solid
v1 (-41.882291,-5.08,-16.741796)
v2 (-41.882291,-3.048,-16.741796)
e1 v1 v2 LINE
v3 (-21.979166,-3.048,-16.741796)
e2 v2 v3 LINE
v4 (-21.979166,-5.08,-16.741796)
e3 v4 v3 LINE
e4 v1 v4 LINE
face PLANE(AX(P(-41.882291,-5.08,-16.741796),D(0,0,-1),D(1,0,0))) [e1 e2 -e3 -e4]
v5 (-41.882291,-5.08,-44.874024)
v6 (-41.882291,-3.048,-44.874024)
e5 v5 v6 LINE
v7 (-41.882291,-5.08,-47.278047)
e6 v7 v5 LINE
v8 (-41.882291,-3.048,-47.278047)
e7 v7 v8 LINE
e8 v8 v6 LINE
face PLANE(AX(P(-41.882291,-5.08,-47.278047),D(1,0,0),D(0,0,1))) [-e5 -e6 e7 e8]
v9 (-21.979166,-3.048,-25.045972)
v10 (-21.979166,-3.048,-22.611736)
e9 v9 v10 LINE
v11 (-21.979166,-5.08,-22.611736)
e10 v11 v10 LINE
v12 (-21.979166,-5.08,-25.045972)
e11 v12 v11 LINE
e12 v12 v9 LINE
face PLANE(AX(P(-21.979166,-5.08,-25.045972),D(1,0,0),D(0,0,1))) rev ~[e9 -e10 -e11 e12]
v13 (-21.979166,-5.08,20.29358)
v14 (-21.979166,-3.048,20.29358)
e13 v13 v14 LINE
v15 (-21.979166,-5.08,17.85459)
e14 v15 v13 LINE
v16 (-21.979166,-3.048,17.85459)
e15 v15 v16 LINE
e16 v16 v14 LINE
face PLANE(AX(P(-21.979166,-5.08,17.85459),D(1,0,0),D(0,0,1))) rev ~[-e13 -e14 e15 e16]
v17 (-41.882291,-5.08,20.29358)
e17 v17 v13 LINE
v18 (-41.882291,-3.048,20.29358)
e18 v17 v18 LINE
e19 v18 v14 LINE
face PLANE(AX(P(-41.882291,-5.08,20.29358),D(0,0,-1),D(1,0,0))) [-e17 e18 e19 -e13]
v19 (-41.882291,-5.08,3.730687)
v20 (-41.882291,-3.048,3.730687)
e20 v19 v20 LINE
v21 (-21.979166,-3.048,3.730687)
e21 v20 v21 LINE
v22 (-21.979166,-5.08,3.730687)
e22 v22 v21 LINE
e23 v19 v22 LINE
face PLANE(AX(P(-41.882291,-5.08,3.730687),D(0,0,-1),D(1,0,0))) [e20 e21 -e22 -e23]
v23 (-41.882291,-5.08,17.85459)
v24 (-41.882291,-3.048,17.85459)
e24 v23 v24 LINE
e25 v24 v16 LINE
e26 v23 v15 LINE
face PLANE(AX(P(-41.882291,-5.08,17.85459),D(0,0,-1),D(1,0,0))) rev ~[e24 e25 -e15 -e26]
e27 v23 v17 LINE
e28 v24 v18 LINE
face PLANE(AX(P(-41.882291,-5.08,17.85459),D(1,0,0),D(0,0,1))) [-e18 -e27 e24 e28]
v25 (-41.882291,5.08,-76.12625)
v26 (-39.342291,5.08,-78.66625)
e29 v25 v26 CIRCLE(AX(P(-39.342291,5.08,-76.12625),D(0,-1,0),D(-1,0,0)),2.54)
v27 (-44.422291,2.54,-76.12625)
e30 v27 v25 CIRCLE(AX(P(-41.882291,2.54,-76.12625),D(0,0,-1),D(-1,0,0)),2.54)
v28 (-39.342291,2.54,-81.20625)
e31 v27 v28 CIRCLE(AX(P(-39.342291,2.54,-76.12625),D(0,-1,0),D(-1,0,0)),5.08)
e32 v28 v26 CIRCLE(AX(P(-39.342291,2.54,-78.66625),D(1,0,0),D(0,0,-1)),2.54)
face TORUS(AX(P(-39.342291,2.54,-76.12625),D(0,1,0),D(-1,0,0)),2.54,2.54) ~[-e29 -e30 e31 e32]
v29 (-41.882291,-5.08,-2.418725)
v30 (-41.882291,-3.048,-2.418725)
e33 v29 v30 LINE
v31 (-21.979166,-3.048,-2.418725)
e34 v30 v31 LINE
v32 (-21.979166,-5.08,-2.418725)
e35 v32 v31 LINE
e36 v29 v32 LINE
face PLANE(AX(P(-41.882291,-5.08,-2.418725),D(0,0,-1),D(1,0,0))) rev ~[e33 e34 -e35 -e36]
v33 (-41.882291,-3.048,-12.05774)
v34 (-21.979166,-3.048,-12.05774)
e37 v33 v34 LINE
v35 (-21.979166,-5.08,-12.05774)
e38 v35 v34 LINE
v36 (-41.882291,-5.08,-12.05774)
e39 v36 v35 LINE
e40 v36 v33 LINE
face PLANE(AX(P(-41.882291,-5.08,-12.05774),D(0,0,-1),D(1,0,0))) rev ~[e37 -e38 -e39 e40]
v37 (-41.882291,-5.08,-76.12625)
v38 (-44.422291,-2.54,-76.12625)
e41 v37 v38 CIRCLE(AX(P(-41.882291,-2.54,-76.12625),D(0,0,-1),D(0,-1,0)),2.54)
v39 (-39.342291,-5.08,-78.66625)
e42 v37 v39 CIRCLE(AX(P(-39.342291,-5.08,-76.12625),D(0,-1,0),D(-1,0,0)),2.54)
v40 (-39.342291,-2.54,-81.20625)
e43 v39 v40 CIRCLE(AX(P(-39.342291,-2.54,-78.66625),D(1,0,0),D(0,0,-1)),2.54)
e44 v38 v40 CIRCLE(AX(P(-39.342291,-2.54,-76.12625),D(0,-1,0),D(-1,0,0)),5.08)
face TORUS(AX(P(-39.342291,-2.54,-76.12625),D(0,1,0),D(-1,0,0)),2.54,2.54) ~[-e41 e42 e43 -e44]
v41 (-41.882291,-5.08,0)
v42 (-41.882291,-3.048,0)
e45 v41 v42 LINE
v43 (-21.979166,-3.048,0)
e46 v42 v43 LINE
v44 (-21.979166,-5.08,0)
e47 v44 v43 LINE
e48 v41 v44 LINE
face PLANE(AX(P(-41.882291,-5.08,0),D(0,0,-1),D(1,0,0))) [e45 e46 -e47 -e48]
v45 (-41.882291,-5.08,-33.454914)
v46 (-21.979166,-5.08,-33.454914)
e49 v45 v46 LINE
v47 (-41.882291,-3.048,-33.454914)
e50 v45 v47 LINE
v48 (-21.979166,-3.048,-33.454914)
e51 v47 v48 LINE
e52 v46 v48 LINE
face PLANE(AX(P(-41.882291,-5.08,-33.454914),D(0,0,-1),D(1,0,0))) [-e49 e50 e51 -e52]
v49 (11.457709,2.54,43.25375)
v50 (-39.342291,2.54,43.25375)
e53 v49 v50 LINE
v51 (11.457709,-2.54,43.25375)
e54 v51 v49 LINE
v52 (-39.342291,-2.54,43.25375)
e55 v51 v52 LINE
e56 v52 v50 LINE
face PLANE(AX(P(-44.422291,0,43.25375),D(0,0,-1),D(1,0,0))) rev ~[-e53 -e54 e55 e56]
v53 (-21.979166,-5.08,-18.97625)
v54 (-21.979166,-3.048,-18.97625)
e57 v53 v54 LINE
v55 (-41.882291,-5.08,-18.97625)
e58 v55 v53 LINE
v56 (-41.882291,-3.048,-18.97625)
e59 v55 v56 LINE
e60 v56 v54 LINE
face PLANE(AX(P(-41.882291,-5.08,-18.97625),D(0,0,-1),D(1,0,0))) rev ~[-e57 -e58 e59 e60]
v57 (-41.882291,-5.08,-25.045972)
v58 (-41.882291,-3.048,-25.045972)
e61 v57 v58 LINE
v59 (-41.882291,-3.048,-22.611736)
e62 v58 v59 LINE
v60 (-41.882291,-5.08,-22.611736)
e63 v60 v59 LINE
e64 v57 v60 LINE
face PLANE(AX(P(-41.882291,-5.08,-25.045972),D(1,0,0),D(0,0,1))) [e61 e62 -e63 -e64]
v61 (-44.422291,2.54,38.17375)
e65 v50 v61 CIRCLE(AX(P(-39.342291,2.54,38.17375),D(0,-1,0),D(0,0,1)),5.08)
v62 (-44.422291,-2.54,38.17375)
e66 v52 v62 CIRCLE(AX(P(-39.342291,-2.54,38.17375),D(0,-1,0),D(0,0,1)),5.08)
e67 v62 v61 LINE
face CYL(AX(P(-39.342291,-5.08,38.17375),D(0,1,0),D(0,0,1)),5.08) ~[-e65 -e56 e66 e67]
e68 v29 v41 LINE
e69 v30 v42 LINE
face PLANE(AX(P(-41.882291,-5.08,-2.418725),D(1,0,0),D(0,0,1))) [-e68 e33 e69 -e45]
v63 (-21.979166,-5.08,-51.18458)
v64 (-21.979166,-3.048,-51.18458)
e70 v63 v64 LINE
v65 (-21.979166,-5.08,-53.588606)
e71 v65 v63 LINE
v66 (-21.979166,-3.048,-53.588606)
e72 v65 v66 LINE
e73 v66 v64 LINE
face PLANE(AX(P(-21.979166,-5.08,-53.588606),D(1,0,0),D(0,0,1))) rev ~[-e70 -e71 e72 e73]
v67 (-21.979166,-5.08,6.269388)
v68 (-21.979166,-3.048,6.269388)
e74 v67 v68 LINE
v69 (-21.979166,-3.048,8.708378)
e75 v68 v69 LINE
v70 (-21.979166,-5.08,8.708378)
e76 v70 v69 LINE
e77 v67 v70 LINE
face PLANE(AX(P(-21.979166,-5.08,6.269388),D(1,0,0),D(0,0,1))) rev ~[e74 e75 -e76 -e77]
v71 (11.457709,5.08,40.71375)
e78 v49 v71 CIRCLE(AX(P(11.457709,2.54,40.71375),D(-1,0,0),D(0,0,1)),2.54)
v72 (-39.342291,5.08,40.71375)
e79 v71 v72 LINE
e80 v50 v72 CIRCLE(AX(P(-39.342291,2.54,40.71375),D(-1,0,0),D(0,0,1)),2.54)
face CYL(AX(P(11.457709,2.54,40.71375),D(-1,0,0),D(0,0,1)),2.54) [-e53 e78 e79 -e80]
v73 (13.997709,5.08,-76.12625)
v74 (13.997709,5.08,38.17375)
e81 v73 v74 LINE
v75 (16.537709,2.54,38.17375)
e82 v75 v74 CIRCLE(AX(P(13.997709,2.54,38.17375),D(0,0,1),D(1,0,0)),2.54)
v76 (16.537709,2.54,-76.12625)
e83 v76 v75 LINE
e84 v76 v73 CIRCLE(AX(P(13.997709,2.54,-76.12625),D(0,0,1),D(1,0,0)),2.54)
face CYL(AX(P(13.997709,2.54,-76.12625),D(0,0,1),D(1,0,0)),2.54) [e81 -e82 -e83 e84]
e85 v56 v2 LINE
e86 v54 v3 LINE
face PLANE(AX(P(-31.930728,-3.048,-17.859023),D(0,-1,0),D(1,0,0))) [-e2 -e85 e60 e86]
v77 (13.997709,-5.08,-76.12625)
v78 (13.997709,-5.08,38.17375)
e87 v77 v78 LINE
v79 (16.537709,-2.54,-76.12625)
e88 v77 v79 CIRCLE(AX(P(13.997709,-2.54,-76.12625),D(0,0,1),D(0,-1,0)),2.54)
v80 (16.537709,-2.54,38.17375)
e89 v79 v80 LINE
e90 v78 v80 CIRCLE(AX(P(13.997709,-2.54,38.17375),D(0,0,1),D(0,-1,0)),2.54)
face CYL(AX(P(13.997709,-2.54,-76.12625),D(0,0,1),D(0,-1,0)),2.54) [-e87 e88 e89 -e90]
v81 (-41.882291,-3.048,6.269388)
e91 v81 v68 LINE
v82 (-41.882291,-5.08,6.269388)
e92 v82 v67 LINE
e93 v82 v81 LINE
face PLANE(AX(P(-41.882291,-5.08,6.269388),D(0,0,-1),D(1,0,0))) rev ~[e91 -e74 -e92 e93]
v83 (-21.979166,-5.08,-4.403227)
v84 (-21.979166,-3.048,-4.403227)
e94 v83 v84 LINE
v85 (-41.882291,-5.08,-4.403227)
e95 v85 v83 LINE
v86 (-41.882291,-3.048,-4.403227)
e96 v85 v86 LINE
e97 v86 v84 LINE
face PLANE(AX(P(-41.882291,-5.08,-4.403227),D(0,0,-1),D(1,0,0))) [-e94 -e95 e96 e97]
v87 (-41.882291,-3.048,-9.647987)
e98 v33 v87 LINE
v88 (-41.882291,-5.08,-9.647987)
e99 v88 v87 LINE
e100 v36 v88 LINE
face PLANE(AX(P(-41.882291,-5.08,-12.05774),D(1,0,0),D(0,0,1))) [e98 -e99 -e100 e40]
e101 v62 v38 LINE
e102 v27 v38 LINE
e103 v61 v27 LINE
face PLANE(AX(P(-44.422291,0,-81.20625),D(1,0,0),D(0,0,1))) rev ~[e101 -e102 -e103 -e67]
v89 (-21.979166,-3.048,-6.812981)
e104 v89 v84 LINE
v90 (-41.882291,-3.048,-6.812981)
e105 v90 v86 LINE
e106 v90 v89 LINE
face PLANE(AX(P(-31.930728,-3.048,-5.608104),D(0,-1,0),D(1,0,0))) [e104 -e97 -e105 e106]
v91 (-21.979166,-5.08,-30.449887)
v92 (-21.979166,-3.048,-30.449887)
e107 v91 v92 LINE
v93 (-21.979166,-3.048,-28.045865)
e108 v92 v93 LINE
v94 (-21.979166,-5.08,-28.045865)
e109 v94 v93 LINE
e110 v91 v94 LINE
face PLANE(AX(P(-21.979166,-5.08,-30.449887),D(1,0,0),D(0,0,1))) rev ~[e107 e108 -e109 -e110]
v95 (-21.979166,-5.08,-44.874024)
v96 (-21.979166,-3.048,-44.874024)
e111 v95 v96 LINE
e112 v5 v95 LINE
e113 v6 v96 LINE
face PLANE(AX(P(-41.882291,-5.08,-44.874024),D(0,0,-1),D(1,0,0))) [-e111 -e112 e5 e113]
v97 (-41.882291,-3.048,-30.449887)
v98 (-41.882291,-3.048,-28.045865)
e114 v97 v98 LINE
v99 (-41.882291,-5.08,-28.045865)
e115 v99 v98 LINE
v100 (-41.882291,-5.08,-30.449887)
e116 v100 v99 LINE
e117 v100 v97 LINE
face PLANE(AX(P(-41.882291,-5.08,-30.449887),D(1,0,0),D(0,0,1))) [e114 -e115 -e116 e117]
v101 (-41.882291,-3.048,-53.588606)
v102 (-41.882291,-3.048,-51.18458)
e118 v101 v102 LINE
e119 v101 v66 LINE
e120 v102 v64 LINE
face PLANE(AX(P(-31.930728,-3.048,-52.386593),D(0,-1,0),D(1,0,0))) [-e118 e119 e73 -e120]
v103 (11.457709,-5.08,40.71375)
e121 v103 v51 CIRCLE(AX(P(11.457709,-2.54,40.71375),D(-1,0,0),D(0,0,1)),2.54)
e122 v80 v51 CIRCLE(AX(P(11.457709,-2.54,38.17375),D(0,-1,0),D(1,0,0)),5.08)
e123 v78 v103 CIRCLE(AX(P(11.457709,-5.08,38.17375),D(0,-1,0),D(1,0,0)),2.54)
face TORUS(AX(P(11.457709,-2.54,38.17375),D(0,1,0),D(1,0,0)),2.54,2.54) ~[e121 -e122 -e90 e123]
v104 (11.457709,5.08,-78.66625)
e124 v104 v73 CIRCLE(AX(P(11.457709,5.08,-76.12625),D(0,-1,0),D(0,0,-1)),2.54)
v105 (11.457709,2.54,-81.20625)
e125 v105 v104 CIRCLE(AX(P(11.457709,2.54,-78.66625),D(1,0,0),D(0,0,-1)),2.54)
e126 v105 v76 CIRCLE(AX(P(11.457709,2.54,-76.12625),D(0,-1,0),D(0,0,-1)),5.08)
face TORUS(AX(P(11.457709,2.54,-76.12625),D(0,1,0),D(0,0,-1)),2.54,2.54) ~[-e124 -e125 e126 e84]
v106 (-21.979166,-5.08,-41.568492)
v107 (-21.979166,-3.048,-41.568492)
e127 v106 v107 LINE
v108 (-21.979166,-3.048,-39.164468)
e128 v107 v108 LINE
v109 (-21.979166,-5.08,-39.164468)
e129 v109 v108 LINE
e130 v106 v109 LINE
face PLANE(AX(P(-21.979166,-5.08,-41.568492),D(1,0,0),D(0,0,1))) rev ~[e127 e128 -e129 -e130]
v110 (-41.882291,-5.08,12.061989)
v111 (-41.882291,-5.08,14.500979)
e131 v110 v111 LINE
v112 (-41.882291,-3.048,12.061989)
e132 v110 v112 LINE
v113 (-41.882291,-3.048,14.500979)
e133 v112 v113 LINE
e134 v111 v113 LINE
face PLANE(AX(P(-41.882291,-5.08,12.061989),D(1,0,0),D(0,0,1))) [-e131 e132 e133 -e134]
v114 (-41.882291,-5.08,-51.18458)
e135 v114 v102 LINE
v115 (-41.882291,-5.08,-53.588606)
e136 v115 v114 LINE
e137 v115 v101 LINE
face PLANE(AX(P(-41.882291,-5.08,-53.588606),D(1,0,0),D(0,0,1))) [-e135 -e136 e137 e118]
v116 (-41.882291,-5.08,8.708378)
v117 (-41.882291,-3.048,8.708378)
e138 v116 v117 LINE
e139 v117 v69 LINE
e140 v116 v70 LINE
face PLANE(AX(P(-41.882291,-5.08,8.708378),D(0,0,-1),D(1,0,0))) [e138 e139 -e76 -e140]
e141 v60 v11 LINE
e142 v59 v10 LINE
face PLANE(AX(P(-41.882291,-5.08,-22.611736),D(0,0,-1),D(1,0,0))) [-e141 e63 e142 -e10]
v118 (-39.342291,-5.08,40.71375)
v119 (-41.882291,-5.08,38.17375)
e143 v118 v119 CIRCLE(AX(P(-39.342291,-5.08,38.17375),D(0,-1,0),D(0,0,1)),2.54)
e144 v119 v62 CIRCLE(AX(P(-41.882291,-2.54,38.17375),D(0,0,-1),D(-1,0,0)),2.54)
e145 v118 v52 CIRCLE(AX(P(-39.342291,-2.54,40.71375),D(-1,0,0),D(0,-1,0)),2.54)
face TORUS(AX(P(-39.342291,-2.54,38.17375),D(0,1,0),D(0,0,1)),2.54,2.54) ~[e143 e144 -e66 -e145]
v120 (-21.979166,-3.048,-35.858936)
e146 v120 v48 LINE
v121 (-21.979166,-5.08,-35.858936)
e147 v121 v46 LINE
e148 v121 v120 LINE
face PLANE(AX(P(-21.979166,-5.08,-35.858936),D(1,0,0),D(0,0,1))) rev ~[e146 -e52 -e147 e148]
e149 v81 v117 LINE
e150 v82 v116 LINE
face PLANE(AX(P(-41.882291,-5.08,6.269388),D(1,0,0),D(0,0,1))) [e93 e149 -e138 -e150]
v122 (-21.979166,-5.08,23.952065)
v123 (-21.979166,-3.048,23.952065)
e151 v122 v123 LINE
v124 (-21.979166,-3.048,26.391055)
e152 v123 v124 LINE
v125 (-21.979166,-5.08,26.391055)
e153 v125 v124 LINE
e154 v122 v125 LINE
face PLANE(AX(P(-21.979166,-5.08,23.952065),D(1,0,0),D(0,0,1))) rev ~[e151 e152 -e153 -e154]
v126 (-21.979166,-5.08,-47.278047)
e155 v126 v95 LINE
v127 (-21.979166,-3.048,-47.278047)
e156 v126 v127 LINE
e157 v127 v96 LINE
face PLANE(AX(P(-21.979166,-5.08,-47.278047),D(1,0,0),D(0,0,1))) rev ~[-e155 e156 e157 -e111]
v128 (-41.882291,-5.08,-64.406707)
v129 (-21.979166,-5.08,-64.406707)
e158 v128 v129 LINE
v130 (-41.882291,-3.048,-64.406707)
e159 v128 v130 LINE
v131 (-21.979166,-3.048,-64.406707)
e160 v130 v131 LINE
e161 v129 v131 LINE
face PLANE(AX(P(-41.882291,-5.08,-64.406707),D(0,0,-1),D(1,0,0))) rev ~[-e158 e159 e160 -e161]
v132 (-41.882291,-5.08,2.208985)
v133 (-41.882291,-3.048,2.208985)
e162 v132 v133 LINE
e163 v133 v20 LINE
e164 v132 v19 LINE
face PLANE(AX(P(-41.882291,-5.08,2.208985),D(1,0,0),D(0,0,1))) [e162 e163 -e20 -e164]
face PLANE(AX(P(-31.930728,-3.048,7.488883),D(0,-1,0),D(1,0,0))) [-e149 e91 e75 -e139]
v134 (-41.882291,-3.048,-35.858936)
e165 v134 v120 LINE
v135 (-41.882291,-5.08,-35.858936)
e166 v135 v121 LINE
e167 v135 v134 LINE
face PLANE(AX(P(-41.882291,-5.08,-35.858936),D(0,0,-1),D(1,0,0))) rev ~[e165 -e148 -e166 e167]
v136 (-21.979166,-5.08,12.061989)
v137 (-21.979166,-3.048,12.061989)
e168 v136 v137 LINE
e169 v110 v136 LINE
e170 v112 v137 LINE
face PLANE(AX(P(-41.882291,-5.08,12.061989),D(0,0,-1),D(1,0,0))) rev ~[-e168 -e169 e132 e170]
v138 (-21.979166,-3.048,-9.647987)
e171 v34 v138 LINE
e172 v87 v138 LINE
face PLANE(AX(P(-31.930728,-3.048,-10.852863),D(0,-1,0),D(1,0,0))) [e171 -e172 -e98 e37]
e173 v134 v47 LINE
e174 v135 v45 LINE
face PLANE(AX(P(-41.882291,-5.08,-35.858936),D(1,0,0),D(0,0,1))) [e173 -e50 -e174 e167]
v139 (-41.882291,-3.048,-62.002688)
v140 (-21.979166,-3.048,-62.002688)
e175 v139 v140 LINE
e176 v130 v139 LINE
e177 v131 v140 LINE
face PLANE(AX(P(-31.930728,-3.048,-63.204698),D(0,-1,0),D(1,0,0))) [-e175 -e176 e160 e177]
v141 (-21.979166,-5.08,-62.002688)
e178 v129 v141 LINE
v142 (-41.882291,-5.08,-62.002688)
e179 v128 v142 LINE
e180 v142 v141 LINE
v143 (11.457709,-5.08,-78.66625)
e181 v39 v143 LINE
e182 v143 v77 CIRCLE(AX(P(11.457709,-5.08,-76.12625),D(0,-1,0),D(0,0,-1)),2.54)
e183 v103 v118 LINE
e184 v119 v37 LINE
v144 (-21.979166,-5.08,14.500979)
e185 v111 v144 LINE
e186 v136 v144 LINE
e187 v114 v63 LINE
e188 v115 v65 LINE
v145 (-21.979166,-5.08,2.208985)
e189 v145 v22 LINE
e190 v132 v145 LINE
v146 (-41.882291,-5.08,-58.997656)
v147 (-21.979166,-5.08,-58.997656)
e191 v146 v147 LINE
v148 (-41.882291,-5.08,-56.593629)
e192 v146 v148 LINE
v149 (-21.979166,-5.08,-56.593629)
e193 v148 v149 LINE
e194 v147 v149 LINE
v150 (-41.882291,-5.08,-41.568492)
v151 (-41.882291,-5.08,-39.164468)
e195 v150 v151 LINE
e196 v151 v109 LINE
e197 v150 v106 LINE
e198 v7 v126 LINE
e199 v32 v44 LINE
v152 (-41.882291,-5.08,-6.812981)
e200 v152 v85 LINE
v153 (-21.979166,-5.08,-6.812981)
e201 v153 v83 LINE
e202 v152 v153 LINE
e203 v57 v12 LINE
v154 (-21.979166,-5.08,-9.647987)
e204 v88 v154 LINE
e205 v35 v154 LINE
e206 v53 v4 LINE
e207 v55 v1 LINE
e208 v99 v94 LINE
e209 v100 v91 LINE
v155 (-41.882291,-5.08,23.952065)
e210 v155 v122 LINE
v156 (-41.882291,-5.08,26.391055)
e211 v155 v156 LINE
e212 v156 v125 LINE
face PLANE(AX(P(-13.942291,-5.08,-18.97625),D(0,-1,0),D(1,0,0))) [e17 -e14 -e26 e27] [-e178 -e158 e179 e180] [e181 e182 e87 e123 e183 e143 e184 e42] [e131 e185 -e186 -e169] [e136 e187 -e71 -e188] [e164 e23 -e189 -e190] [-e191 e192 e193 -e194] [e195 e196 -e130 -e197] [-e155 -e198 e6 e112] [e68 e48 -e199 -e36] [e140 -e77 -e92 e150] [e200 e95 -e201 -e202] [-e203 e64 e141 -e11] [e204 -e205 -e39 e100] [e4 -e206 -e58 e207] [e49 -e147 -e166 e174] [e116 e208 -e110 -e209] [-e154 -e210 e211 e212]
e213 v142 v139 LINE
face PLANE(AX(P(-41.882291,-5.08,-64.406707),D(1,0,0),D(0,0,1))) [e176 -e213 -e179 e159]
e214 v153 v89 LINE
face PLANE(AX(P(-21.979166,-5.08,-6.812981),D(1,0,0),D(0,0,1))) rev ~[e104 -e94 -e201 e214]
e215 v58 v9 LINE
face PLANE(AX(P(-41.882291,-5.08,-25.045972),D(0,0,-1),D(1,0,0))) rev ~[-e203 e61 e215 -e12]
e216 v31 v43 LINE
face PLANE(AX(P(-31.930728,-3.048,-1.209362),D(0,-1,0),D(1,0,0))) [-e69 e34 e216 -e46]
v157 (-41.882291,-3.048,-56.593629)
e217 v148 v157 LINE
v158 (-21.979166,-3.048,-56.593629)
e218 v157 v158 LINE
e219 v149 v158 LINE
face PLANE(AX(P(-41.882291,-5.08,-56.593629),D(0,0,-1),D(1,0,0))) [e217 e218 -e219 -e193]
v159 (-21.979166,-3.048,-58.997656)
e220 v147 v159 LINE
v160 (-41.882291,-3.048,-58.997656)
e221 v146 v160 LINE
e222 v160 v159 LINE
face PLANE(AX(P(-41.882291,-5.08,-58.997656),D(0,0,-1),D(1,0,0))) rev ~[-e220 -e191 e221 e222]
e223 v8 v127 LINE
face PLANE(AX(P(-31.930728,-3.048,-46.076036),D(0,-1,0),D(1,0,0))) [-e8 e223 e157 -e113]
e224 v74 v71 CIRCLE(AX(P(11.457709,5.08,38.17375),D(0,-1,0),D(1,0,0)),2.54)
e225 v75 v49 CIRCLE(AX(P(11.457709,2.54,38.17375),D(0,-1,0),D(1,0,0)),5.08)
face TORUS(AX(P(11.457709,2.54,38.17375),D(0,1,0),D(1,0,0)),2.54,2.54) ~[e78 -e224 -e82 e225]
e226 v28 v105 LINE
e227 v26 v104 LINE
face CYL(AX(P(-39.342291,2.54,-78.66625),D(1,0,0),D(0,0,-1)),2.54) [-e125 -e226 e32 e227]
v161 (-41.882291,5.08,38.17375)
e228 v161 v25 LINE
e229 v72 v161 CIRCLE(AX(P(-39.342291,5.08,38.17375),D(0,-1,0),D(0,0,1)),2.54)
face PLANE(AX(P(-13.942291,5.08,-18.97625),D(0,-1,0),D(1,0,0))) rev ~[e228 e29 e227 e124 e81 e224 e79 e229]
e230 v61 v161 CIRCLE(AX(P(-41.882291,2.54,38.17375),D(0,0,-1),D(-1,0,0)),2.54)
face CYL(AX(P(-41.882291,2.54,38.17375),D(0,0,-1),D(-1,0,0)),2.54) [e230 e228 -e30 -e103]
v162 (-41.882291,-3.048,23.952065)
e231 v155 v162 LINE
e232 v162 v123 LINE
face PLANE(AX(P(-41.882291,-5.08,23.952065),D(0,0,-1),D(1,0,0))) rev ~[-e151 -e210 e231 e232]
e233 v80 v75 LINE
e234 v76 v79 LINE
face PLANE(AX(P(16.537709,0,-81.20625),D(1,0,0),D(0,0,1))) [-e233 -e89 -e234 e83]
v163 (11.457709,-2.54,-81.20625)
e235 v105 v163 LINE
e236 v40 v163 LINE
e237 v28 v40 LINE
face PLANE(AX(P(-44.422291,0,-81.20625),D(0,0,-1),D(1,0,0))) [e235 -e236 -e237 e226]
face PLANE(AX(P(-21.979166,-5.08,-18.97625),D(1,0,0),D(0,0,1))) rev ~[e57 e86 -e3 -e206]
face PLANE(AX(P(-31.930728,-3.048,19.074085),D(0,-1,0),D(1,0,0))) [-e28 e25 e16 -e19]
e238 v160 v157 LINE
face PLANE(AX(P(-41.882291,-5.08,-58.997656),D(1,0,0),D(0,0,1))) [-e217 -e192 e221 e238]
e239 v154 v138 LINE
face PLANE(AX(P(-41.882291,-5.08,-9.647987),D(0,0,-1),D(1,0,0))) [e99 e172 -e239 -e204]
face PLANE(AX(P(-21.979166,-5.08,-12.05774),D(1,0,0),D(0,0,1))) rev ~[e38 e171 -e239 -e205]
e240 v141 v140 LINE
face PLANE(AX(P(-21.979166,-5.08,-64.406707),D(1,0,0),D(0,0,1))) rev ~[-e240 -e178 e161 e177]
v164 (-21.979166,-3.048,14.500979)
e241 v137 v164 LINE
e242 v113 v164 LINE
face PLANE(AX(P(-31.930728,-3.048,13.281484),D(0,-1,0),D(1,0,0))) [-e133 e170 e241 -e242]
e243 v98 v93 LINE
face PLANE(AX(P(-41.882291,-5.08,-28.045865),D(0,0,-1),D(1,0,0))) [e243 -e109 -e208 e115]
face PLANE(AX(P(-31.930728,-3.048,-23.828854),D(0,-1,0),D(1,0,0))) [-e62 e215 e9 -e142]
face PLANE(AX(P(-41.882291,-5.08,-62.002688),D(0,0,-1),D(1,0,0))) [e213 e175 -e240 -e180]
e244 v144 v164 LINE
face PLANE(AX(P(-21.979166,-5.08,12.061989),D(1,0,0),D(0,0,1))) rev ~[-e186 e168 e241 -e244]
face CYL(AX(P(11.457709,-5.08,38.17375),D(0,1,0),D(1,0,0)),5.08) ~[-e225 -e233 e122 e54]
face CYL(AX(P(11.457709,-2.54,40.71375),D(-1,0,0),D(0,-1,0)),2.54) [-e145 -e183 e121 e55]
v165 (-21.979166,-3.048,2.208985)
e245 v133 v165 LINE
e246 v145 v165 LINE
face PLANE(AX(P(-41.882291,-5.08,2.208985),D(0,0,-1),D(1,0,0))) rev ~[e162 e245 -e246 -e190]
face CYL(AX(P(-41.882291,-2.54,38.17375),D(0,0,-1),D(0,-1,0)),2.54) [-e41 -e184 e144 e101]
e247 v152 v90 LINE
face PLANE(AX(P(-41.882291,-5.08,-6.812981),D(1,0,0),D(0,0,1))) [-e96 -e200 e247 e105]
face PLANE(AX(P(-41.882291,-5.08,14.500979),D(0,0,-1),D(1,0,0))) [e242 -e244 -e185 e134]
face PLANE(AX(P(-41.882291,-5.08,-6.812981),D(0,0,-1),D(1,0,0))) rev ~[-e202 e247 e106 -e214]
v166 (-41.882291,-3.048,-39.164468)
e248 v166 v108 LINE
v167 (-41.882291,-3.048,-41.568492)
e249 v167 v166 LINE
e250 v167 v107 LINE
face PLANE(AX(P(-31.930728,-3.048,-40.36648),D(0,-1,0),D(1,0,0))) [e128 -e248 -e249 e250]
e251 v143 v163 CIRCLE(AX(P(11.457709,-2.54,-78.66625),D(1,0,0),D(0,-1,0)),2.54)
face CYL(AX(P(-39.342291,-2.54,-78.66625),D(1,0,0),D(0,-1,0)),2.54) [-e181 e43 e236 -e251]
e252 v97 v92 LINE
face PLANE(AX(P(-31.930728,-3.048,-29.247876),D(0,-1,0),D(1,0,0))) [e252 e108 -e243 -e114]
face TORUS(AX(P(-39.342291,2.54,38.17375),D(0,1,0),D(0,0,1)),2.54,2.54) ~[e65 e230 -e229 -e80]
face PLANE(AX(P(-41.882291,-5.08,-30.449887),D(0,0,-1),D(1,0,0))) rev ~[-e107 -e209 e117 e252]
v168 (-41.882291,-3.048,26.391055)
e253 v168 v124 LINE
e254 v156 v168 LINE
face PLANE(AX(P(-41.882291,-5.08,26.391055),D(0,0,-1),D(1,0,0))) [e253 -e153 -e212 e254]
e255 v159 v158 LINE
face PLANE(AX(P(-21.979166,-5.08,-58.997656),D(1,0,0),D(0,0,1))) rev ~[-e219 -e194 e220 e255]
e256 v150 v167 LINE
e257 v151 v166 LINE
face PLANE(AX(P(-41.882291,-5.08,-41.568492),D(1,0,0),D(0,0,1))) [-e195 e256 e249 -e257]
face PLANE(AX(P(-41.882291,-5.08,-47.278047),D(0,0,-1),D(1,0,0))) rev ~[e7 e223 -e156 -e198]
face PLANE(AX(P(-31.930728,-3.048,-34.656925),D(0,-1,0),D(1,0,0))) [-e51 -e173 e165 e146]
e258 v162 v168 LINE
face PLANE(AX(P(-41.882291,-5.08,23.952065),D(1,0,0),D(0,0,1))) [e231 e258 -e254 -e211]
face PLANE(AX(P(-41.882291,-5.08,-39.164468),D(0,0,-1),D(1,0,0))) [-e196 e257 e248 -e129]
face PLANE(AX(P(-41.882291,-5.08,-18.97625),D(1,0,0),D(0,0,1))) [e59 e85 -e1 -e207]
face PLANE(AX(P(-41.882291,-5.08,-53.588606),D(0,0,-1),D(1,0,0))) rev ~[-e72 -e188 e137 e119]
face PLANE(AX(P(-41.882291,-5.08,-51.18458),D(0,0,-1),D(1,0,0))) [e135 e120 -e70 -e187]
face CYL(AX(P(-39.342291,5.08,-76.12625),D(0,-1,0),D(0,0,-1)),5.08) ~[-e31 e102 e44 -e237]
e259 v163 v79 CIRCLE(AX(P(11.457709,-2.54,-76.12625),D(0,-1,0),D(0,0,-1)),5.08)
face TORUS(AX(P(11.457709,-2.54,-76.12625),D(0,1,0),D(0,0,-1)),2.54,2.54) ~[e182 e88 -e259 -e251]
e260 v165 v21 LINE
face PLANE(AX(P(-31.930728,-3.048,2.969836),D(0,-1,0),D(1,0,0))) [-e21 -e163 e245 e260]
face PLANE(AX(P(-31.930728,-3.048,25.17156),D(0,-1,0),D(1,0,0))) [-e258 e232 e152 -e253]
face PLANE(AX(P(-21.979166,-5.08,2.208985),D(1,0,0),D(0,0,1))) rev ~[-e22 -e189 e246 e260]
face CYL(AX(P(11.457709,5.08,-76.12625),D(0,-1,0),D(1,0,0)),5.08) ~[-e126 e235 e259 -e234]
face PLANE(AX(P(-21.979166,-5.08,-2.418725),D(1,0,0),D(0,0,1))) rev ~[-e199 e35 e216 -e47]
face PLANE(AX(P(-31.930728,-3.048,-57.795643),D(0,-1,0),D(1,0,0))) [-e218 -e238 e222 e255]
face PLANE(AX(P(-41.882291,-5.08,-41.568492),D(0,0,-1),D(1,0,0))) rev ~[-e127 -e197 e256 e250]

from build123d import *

# Parameters (mm, degrees)
F0_W     = 60.96
F0_H     = 124.46
F1_DEPTH = 5.08
F2_R     = 5.08
F3_R     = 5.08
F4_R     = 5.08
F5_R     = 5.08
F6_R     = 2.54
F7_R     = 2.54
F8_W     = 19.903125
F8_H     = 2.43899
F8_H_2   = 2.438989
F8_H_3   = 1.521701
F8_H_4   = 2.418725
F8_H_5   = 2.409754
F8_H_6   = 2.409753
F8_H_7   = 2.234453
F8_H_8   = 2.434235
F8_H_9   = 2.404023
F8_H_10  = 2.404026
F8_H_11  = 2.404027
F8_H_12  = 2.404019
F9_DEPTH = 2.032


with BuildPart() as f1:
    # F0 (on Front) → F1 (new body, symmetric)
    with BuildSketch(Plane.XZ):
        with Locations((-13.942291, -18.97625)):
            Rectangle(F0_W, F0_H)
    extrude(amount=F1_DEPTH, both=True)

    # F2
    f2_edges = [f1.edges().sort_by_distance(p)[0] for p in [
        (16.537709, 0, 43.25375),
    ]]
    fillet(f2_edges, radius=F2_R)

    # F3
    f3_edges = [f1.edges().sort_by_distance(p)[0] for p in [
        (-44.422291, 0, 43.25375),
    ]]
    fillet(f3_edges, radius=F3_R)

    # F4
    f4_edges = [f1.edges().sort_by_distance(p)[0] for p in [
        (16.537709, 0, -81.20625),
    ]]
    fillet(f4_edges, radius=F4_R)

    # F5
    f5_edges = [f1.edges().sort_by_distance(p)[0] for p in [
        (-44.422291, 0, -81.20625),
    ]]
    fillet(f5_edges, radius=F5_R)

    # F6
    f6_edges = [f1.edges().sort_by_distance(p)[0] for p in [
        (16.537709, -5.08, -18.97625),
    ]]
    fillet(f6_edges, radius=F6_R)

    # F7
    f7_edges = [f1.edges().sort_by_distance(p)[0] for p in [
        (16.537709, 5.08, -18.97625),
    ]]
    fillet(f7_edges, radius=F7_R)

    # F8 (on face) → F9 (cut)
    with BuildSketch(Plane.XZ.offset(5.08)):
        with Locations((-31.930728, 25.17156)):
            Rectangle(F8_W, F8_H)
        with Locations((-31.930728, 19.074085)):
            Rectangle(F8_W, F8_H)
        with Locations((-31.930728, 13.281484)):
            Rectangle(F8_W, F8_H_2)
        with Locations((-31.930728, 7.488883)):
            Rectangle(F8_W, F8_H)
        with Locations((-31.930728, 2.969836)):
            Rectangle(F8_W, F8_H_3)
        with Locations((-31.930728, -1.209362)):
            Rectangle(F8_W, F8_H_4)
        with Locations((-31.930728, -5.608104)):
            Rectangle(F8_W, F8_H_5)
        with Locations((-31.930728, -10.852863)):
            Rectangle(F8_W, F8_H_6)
        with Locations((-31.930728, -17.859023)):
            Rectangle(F8_W, F8_H_7)
        with Locations((-31.930728, -23.828854)):
            Rectangle(F8_W, F8_H_8)
        with Locations((-31.930728, -29.247876)):
            Rectangle(F8_W, F8_H_9)
        with Locations((-31.930728, -34.656925)):
            Rectangle(F8_W, F8_H_9)
        with Locations((-31.930728, -40.36648)):
            Rectangle(F8_W, F8_H_9)
        with Locations((-31.930728, -46.076036)):
            Rectangle(F8_W, F8_H_9)
        with Locations((-31.930728, -52.386593)):
            Rectangle(F8_W, F8_H_10)
        with Locations((-31.930728, -57.795643)):
            Rectangle(F8_W, F8_H_11)
        with Locations((-31.930728, -63.204698)):
            Rectangle(F8_W, F8_H_12)
    extrude(amount=-F9_DEPTH, mode=Mode.SUBTRACT)


solid = f1.part
